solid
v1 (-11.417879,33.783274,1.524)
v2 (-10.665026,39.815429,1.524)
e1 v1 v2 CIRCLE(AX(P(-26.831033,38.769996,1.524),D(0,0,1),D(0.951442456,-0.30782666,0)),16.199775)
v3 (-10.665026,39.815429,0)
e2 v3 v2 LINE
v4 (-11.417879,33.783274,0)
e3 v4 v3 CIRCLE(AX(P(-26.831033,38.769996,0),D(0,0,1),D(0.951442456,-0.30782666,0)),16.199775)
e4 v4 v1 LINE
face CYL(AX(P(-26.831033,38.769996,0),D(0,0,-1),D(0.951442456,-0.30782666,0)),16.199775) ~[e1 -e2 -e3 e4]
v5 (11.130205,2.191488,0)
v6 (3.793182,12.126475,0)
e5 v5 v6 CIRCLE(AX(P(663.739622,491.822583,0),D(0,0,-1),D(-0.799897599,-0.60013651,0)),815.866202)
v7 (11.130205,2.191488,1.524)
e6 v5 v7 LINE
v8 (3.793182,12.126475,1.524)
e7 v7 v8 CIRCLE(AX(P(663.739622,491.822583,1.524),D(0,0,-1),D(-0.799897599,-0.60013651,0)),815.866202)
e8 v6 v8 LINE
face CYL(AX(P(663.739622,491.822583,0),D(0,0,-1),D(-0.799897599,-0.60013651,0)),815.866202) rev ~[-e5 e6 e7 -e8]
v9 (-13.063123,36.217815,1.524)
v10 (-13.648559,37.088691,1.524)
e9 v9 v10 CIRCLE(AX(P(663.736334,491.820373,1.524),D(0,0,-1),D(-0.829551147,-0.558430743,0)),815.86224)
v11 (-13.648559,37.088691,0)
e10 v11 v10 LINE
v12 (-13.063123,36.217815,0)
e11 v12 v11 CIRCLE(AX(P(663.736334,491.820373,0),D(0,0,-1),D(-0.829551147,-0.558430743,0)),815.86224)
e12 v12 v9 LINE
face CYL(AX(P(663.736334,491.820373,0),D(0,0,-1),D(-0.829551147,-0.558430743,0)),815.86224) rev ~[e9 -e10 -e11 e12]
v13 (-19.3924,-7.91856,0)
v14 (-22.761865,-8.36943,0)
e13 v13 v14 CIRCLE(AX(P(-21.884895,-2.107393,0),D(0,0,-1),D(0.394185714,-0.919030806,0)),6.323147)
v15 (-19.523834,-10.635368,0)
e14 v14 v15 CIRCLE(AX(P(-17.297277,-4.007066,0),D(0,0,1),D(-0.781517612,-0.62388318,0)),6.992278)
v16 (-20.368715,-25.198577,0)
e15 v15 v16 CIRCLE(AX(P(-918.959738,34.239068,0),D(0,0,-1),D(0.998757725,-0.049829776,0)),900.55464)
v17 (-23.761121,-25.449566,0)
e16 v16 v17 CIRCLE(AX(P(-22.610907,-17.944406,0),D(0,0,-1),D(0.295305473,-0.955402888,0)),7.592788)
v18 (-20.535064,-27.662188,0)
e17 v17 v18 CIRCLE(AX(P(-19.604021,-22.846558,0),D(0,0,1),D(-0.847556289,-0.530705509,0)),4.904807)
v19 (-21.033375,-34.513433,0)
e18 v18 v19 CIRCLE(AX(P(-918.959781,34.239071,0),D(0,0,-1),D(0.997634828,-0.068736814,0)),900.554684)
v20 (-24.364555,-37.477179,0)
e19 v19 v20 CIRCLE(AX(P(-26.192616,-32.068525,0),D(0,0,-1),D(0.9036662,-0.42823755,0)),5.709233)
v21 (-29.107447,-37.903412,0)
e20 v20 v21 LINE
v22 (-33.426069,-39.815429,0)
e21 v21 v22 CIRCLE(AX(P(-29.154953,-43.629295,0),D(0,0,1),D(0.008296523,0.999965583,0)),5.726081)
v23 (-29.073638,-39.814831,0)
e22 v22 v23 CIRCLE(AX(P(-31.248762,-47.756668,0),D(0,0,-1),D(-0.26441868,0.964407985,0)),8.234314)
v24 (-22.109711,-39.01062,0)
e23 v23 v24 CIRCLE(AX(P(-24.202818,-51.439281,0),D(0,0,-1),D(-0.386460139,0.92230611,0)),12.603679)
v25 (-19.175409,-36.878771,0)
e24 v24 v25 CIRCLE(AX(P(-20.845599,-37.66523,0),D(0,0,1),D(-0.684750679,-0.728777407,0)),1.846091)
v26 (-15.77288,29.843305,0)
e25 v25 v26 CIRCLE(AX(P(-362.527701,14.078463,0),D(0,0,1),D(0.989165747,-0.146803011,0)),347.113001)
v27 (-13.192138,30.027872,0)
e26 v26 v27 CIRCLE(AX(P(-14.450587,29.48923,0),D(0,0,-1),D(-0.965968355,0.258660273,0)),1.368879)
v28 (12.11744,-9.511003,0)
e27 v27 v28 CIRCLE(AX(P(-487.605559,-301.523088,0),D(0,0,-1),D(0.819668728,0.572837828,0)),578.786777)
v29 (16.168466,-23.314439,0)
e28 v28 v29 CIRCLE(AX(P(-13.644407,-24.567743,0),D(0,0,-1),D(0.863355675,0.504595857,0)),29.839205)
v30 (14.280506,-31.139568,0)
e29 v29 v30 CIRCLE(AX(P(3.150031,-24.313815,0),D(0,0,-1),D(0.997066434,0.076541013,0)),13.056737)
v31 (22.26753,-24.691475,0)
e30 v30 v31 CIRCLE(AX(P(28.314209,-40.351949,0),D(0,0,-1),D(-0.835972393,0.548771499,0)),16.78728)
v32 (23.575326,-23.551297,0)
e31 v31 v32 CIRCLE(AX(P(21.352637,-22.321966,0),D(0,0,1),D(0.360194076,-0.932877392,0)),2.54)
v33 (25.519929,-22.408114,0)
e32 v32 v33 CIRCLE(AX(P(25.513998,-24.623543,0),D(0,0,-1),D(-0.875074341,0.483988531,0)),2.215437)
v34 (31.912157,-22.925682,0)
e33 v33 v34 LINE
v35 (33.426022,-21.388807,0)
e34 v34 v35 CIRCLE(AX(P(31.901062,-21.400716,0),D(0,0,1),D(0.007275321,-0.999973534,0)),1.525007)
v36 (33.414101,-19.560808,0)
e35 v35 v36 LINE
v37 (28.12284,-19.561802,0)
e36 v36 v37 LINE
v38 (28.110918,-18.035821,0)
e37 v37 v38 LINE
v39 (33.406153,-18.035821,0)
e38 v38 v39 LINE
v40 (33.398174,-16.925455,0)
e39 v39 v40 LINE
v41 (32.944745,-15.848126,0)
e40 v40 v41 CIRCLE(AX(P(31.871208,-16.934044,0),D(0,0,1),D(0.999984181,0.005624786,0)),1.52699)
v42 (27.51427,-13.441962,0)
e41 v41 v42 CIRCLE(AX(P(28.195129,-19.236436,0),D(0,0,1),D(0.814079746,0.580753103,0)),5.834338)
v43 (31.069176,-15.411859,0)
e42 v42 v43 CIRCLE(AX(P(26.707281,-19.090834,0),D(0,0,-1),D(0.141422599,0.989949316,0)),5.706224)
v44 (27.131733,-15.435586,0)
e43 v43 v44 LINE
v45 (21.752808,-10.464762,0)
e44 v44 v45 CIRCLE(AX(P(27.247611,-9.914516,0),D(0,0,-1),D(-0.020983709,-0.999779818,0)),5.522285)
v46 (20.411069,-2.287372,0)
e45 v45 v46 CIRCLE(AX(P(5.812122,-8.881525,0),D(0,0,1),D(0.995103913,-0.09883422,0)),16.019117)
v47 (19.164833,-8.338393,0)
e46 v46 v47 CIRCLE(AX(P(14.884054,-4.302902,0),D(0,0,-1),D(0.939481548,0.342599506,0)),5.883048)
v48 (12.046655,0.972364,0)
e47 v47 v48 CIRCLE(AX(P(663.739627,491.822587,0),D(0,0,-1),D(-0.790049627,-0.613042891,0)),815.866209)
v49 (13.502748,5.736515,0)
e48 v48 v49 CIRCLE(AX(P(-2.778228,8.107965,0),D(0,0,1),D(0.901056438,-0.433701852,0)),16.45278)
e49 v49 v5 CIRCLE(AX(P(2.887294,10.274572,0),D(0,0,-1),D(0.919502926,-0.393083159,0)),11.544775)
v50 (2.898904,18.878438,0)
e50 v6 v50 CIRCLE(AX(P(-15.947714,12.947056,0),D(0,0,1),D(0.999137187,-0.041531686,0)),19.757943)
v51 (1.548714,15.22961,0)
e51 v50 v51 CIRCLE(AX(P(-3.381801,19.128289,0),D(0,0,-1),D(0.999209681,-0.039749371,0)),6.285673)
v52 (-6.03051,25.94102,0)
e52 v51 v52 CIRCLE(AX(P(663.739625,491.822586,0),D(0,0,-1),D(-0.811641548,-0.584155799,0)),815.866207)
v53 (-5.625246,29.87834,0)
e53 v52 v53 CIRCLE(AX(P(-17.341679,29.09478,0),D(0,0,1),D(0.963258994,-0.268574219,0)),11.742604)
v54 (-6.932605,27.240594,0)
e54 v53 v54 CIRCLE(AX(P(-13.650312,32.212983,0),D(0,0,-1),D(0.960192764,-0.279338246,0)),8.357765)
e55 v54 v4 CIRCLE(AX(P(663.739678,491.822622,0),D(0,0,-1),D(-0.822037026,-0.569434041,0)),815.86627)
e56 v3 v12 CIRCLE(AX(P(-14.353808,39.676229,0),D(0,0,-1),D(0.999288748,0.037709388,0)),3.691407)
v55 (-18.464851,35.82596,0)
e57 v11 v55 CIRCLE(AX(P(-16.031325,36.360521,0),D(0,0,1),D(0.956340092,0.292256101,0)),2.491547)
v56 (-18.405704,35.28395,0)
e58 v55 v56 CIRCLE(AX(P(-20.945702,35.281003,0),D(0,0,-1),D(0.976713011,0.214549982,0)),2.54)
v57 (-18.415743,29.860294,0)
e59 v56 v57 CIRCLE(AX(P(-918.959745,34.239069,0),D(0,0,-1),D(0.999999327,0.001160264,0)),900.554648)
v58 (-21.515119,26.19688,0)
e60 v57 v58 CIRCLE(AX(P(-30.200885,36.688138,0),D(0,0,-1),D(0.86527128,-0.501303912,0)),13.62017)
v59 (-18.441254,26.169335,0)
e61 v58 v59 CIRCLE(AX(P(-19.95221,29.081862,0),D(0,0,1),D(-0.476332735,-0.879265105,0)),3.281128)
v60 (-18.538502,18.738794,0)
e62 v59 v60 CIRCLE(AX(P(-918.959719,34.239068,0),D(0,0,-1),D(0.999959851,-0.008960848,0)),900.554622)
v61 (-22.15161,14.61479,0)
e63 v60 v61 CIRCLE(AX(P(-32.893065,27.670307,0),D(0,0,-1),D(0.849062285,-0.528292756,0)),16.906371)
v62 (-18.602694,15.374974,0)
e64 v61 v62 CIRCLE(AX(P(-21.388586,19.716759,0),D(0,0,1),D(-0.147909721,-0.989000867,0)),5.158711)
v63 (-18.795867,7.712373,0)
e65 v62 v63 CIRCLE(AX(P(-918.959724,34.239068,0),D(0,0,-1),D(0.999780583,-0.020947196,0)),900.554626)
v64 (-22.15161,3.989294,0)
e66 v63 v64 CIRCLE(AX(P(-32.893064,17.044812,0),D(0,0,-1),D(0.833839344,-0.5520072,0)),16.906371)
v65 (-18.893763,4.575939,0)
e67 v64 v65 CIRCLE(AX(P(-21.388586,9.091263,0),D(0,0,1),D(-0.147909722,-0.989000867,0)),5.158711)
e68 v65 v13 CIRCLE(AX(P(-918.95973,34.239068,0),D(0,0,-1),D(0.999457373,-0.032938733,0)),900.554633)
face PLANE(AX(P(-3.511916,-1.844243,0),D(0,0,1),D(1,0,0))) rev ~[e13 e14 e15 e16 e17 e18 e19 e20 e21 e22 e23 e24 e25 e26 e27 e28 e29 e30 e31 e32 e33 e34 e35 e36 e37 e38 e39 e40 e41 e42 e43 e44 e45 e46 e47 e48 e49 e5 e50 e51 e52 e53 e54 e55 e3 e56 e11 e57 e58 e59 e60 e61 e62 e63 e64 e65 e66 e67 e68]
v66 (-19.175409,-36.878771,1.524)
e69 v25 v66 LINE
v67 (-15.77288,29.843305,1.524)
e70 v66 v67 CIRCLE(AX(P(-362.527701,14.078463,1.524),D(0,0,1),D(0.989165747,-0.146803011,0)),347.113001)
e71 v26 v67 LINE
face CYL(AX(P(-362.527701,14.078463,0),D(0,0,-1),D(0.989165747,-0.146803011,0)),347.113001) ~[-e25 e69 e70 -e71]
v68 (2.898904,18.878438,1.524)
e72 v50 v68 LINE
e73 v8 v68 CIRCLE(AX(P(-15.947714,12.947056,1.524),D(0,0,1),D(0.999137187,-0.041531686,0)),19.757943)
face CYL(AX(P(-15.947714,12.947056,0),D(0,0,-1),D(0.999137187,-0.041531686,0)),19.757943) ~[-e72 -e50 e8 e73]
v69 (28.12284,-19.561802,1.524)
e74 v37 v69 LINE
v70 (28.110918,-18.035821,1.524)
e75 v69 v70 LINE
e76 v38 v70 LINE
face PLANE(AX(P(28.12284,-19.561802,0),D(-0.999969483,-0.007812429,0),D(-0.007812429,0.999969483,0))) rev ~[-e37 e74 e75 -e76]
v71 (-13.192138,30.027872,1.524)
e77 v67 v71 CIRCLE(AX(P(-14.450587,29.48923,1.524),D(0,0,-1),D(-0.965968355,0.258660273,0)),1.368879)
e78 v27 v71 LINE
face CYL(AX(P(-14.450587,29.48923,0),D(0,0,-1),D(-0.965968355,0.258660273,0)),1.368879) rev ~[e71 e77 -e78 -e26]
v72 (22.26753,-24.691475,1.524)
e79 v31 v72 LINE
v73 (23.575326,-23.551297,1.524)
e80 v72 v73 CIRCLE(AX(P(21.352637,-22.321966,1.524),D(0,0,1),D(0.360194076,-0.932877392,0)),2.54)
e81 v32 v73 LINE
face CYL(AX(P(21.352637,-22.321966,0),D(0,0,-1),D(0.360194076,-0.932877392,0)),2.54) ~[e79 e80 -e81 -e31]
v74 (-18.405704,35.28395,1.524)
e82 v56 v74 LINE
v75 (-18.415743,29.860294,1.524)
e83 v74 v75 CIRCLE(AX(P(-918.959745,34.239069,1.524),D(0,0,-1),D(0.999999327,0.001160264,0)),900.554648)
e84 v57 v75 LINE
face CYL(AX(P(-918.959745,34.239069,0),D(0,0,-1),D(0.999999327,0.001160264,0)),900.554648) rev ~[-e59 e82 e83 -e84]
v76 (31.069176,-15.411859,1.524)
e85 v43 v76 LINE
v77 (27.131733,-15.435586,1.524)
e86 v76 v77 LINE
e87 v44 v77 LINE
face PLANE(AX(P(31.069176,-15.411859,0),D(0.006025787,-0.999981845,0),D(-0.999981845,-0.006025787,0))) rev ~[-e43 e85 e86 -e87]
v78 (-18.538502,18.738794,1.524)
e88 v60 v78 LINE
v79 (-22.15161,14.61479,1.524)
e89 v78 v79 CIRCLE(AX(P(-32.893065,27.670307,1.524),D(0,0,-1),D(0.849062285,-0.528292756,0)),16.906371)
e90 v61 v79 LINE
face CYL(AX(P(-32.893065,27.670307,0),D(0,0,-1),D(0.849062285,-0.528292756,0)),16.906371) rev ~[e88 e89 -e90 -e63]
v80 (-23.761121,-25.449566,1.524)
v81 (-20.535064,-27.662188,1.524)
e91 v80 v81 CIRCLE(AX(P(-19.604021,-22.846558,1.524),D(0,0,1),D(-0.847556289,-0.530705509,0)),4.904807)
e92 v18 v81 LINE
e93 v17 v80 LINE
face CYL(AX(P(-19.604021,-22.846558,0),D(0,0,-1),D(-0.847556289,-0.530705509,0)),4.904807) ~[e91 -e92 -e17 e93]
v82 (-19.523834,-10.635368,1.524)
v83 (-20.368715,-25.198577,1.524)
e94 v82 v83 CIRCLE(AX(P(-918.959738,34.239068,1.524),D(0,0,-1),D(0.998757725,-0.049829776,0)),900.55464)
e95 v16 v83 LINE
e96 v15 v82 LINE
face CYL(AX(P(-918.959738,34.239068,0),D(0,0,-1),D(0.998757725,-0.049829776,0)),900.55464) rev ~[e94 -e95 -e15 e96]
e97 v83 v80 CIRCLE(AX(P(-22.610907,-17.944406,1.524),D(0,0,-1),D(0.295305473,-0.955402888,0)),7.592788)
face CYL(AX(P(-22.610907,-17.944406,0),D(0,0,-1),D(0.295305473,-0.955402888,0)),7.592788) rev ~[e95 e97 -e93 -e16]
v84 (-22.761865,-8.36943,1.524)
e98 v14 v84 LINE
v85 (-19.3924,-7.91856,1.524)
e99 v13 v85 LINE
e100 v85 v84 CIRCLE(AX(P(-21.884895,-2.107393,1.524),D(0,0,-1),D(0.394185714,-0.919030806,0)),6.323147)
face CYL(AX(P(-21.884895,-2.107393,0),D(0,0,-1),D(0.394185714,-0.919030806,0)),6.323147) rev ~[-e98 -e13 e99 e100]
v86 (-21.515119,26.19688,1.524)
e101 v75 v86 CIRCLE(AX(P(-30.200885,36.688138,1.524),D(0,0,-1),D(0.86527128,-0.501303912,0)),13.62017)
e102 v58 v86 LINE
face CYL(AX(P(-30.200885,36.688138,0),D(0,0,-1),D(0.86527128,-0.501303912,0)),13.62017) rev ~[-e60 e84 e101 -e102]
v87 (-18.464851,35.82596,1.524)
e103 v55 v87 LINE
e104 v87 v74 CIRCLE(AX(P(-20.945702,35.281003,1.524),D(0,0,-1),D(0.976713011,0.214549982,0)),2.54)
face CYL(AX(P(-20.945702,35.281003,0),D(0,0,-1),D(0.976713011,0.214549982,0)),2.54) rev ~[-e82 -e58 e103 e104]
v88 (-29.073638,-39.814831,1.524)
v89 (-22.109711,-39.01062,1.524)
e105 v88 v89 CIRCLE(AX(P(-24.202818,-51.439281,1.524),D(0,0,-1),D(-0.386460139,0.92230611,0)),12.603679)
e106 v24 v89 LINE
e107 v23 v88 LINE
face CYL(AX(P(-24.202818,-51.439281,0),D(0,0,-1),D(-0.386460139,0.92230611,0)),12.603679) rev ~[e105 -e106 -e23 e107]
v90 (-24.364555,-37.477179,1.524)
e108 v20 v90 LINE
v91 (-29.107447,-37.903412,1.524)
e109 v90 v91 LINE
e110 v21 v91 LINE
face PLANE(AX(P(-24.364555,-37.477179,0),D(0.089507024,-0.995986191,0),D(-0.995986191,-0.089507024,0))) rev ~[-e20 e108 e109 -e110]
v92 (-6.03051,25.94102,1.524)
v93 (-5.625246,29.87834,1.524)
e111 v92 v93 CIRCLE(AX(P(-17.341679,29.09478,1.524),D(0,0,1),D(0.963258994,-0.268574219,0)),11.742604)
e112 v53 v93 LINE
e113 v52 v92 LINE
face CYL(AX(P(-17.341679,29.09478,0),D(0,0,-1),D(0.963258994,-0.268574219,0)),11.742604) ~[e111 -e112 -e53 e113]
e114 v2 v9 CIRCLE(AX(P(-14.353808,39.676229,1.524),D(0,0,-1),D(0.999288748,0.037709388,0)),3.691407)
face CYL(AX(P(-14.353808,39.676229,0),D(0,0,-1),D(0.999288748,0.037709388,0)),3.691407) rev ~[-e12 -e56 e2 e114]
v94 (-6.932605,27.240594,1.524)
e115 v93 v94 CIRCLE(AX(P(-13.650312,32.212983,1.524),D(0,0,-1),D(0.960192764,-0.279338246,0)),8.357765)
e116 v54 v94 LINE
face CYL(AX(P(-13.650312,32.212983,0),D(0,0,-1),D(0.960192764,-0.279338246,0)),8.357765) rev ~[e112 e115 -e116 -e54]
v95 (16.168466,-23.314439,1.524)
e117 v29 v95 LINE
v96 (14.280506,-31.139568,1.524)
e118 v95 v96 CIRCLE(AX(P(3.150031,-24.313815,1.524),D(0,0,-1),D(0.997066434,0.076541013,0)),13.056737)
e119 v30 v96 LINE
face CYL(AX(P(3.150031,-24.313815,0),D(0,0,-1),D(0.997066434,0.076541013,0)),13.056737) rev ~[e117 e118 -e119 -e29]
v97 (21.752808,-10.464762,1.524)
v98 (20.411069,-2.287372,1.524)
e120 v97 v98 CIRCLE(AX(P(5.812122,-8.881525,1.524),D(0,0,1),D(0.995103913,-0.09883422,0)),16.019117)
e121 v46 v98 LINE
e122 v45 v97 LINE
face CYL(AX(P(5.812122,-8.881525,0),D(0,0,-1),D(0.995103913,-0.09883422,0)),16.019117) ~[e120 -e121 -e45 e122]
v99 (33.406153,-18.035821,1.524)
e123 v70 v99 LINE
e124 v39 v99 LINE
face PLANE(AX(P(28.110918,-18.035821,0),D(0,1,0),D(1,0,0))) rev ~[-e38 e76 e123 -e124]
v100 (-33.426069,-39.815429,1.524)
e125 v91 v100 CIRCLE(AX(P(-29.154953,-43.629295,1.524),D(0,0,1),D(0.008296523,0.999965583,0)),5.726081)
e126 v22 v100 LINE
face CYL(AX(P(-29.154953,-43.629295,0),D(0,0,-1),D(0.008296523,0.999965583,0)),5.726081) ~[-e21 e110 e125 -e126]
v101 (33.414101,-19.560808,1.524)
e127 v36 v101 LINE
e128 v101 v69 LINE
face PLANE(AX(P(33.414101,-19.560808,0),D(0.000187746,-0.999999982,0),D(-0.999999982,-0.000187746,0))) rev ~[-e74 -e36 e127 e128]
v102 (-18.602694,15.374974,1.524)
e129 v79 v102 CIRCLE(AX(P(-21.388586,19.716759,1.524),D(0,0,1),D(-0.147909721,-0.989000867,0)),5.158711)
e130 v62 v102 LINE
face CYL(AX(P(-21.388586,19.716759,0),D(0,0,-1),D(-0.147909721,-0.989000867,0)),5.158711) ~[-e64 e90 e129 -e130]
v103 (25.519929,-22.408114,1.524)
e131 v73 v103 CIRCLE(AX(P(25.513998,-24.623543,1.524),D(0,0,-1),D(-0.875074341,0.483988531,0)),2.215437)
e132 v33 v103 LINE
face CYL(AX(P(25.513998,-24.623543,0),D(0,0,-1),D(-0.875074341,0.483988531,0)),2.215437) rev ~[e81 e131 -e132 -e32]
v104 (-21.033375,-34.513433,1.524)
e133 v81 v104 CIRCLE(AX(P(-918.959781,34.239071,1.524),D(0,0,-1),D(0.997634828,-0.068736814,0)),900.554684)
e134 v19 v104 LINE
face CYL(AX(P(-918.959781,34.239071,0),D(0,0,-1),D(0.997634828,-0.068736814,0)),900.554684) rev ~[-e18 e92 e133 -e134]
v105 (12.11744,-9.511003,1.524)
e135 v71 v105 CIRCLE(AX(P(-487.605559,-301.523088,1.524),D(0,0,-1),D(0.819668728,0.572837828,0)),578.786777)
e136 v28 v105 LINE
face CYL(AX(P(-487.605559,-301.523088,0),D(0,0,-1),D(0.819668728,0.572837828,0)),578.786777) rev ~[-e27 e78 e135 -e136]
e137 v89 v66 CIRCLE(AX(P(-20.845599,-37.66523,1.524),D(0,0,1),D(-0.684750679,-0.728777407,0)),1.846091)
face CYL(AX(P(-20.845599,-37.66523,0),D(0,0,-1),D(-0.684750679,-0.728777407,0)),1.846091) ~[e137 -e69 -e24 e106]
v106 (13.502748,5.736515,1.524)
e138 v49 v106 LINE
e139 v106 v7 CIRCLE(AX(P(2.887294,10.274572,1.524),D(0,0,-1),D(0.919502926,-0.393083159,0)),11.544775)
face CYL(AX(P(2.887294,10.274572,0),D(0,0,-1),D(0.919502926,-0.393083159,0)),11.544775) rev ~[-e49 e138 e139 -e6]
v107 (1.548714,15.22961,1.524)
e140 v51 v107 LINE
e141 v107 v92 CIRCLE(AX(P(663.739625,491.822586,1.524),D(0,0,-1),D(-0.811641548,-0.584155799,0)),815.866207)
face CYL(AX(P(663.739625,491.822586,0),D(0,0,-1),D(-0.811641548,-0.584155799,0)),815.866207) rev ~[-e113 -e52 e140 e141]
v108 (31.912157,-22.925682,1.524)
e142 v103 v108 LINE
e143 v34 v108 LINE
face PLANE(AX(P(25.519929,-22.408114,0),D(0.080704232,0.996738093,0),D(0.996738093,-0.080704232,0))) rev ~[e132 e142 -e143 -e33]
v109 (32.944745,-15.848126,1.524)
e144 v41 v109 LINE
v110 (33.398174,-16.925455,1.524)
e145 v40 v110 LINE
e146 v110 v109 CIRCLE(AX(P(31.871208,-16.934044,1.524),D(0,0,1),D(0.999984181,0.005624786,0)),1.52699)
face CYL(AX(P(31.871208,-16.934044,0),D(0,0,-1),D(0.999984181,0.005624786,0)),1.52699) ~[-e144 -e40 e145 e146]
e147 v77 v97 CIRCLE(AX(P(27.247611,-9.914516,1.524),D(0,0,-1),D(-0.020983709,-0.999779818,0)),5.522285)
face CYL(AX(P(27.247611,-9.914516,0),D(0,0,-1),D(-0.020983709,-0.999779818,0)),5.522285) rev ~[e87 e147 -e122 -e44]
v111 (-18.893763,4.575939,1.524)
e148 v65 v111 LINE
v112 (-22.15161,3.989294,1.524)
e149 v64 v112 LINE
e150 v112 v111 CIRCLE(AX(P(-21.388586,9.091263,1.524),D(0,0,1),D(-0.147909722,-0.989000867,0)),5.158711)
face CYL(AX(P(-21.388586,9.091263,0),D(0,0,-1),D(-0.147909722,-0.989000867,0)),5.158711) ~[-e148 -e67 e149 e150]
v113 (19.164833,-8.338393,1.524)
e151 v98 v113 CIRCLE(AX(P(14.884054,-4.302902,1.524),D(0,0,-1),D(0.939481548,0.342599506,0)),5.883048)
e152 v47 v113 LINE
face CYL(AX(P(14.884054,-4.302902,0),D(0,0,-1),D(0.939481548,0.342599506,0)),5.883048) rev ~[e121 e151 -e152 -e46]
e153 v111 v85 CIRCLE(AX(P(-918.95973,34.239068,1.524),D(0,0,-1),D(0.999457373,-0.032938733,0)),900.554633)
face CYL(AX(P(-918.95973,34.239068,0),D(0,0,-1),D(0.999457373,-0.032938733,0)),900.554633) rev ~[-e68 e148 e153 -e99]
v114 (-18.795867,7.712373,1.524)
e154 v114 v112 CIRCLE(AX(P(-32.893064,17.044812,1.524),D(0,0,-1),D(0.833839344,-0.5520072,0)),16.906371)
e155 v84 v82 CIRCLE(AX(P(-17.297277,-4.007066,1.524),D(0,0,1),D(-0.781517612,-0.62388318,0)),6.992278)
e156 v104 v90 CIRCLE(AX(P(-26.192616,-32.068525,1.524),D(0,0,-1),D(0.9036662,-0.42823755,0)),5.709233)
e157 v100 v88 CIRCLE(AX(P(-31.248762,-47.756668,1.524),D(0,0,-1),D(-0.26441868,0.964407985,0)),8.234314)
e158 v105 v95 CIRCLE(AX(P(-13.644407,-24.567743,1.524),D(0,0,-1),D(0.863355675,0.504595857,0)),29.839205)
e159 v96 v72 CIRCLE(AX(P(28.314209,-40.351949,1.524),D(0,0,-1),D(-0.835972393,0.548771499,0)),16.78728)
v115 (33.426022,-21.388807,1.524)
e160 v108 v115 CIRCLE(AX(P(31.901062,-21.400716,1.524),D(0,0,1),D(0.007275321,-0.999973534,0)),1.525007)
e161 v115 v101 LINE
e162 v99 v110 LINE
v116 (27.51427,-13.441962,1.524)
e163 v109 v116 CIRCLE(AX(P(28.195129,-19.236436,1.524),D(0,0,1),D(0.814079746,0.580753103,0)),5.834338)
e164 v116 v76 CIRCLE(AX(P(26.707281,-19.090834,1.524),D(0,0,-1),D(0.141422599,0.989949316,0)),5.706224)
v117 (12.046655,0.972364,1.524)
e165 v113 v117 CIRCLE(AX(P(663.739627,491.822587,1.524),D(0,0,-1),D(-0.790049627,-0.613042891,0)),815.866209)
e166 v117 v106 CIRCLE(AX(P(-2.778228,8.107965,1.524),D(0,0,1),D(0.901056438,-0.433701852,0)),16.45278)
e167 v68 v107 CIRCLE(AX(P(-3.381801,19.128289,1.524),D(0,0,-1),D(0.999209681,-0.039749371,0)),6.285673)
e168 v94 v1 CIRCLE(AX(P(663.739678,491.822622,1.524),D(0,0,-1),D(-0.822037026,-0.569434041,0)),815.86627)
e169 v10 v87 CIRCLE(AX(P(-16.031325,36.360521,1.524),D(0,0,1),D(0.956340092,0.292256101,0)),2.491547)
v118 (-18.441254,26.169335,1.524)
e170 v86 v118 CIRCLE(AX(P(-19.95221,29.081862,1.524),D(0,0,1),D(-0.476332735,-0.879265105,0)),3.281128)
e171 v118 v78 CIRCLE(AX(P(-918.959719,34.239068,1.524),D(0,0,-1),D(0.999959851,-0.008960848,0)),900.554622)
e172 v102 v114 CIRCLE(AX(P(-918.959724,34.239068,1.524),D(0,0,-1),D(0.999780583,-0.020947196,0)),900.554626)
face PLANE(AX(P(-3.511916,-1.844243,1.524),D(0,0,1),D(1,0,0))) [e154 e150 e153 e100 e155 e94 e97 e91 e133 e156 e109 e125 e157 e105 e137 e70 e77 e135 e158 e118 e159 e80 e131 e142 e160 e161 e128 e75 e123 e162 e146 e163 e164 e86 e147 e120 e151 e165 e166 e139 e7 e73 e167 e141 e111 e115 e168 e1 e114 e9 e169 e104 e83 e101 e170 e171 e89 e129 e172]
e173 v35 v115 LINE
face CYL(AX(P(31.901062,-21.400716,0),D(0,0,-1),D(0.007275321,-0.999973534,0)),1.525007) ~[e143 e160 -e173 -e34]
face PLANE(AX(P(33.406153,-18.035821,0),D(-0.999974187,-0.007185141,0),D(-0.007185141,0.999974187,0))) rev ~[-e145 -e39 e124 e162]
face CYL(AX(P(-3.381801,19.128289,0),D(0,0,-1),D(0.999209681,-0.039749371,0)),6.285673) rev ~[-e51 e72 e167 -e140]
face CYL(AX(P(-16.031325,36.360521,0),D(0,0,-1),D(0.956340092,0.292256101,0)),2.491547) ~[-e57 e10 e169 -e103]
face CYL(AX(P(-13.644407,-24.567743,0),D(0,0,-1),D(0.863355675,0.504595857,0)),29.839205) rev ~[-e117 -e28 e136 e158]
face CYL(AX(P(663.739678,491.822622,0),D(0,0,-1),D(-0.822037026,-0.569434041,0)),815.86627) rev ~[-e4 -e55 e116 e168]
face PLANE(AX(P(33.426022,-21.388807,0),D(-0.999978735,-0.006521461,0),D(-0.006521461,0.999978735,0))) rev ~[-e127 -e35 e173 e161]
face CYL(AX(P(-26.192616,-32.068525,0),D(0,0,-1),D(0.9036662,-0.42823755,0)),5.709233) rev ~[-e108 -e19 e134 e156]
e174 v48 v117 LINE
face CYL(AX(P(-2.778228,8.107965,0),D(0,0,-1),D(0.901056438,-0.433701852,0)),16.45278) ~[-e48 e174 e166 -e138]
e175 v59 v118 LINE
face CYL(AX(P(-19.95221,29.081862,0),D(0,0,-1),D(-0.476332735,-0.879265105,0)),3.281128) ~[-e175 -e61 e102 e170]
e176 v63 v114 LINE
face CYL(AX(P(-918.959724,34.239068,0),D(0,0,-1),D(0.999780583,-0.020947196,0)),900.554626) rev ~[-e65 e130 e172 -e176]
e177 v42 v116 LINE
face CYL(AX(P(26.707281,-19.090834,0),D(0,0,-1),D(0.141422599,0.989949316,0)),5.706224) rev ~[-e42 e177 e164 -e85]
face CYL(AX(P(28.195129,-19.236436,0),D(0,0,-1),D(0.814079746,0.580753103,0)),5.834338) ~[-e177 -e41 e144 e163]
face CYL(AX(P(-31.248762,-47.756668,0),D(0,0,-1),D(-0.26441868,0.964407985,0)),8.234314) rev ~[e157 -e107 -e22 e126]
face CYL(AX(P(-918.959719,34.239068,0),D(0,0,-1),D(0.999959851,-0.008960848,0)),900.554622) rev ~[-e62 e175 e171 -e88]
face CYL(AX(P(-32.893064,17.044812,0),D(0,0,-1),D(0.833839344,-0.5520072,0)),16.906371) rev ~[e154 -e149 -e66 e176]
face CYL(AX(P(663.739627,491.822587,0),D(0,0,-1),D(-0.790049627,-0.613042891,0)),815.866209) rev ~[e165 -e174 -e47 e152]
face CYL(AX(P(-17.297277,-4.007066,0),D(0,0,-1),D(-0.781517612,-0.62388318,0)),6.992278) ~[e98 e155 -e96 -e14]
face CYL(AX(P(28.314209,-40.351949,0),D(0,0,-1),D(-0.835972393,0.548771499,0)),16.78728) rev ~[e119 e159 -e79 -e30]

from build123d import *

# Parameters (mm, degrees)
BOSS_EXTRUDE1_DEPTH = 1.524


with BuildPart() as part:
    # Sketch1 → Boss-Extrude1 (new body)
    with BuildSketch(Plane.XY):
        with BuildLine():
            Line((-24.364554891, -37.477178577), (-29.107446573, -37.903411516))
            ThreePointArc((-29.107446573, -37.903411516), (-31.473071099, -38.393425652), (-33.42606857, -39.815429216))
            ThreePointArc((-33.42606857, -39.815429216), (-31.249893388, -39.522353453), (-29.073637755, -39.814831212))
            ThreePointArc((-29.073637755, -39.814831212), (-25.648712592, -38.918813581), (-22.109711099, -39.010619897))
            ThreePointArc((-22.109711099, -39.010619897), (-19.760509062, -39.158760526), (-19.17540942, -36.878770555))
            ThreePointArc((-19.17540942, -36.878770555), (-15.865162798, -3.599783912), (-15.772880419, 29.843304591))
            ThreePointArc((-15.772880419, 29.843304591), (-14.548235849, 30.854621423), (-13.192137962, 30.027872017))
            ThreePointArc((-13.192137962, 30.027872017), (-0.136306851, 10.515149008), (12.117439823, -9.511003335))
            ThreePointArc((12.117439823, -9.511003335), (14.987237528, -16.164940717), (16.168465676, -23.314438715))
            ThreePointArc((16.168465676, -23.314438715), (15.842573186, -27.376128515), (14.280506414, -31.139568078))
            ThreePointArc((14.280506414, -31.139568078), (17.769072475, -27.290062934), (22.267530319, -24.691474848))
            ThreePointArc((22.267530319, -24.691474848), (23.021800675, -24.236514222), (23.57532619, -23.551297143))
            ThreePointArc((23.57532619, -23.551297143), (24.39123878, -22.713681417), (25.519929239, -22.408114227))
            Line((25.519929239, -22.408114227), (31.91215665, -22.925682288))
            ThreePointArc((31.91215665, -22.925682288), (32.987506925, -22.470894628), (33.426022068, -21.3888066))
            Line((33.426022068, -21.3888066), (33.414100594, -19.560808287))
            Line((33.414100594, -19.560808287), (28.122840134, -19.561801701))
            Line((28.122840134, -19.561801701), (28.110918151, -18.035820501))
            Line((28.110918151, -18.035820501), (33.406152775, -18.035820501))
            Line((33.406152775, -18.035820501), (33.398174437, -16.925455032))
            ThreePointArc((33.398174437, -16.925455032), (33.278622124, -16.341687991), (32.944745486, -15.848126338))
            ThreePointArc((32.944745486, -15.848126338), (30.558622948, -13.902263693), (27.514270045, -13.441962054))
            ThreePointArc((27.514270045, -13.441962054), (29.473047609, -14.099689708), (31.069176316, -15.411859044))
            Line((31.069176316, -15.411859044), (27.131733148, -15.435585668))
            ThreePointArc((27.131733148, -15.435585668), (23.499650774, -13.970182339), (21.752807973, -10.464762321))
            ThreePointArc((21.752807973, -10.464762321), (21.619864509, -6.287804949), (20.411069114, -2.287372404))
            ThreePointArc((20.411069114, -2.287372404), (20.646164492, -5.489635666), (19.164832874, -8.338392672))
            ThreePointArc((19.164832874, -8.338392672), (15.589025091, -3.695796166), (12.046655257, 0.972364027))
            ThreePointArc((12.046655257, 0.972364027), (12.956062916, 3.299009299), (13.502748407, 5.736515296))
            ThreePointArc((13.502748407, 5.736515296), (12.481630447, 3.853470902), (11.130205062, 2.191487897))
            ThreePointArc((11.130205062, 2.191487897), (7.442893614, 7.145097778), (3.793181539, 12.12647493))
            ThreePointArc((3.793181539, 12.12647493), (3.6391771, 15.54128121), (2.898904085, 18.878437958))
            ThreePointArc((2.898904085, 18.878437958), (2.513226677, 16.946929667), (1.548714149, 15.229609975))
            ThreePointArc((1.548714149, 15.229609975), (-2.262432259, 20.570077326), (-6.030509674, 25.941019614))
            ThreePointArc((-6.030509674, 25.941019614), (-5.660787122, 27.892481118), (-5.62524637, 29.878339526))
            ThreePointArc((-5.62524637, 29.878339526), (-6.161870131, 28.501450031), (-6.932604962, 27.240594145))
            ThreePointArc((-6.932604962, 27.240594145), (-9.183193775, 30.506482698), (-11.417879239, 33.783273646))
            ThreePointArc((-11.417879239, 33.783273646), (-10.755972391, 36.763721595), (-10.665026003, 39.815429216))
            ThreePointArc((-10.665026003, 39.815429216), (-11.282248363, 37.628788529), (-13.063123372, 36.21781541))
            ThreePointArc((-13.063123372, 36.21781541), (-13.355981093, 36.653158865), (-13.648558784, 37.088690566))
            ThreePointArc((-13.648558784, 37.088690566), (-16.663200217, 38.770611805), (-18.464850886, 35.825959552))
            ThreePointArc((-18.464850886, 35.825959552), (-18.420691896, 35.556546257), (-18.405703646, 35.283949682))
            ThreePointArc((-18.405703646, 35.283949682), (-18.40664027, 32.572114189), (-18.415743017, 29.860293811))
            ThreePointArc((-18.415743017, 29.860293811), (-19.802823987, 27.891016102), (-21.515118511, 26.1968804))
            ThreePointArc((-21.515118511, 26.1968804), (-19.981611623, 25.800865516), (-18.441254033, 26.16933486))
            ThreePointArc((-18.441254033, 26.16933486), (-18.482213638, 22.453964053), (-18.538502103, 18.738793864))
            ThreePointArc((-18.538502103, 18.738793864), (-20.176761137, 16.529345851), (-22.151609818, 14.614789539))
            ThreePointArc((-22.151609818, 14.614789539), (-20.30809135, 14.67247237), (-18.602694106, 15.374973539))
            ThreePointArc((-18.602694106, 15.374973539), (-18.691127928, 11.543467884), (-18.795866803, 7.712373276))
            ThreePointArc((-18.795866803, 7.712373276), (-20.334999659, 5.725783654), (-22.151609818, 3.989294148))
            ThreePointArc((-22.151609818, 3.989294148), (-20.47435397, 4.014209715), (-18.893763009, 4.575939347))
            ThreePointArc((-18.893763009, 4.575939347), (-19.121395234, -1.672175675), (-19.392400358, -7.918559748))
            ThreePointArc((-19.392400358, -7.918559748), (-21.046264617, -8.374679978), (-22.761865121, -8.369430126))
            ThreePointArc((-22.761865121, -8.369430126), (-21.306272714, -9.735931232), (-19.523833936, -10.635368018))
            ThreePointArc((-19.523833936, -10.635368018), (-19.916786026, -17.918683373), (-20.36871487, -25.198577206))
            ThreePointArc((-20.36871487, -25.198577206), (-22.05068144, -25.516497621), (-23.761121477, -25.44956621))
            ThreePointArc((-23.761121477, -25.44956621), (-22.378228066, -26.891420245), (-20.535063915, -27.662188146))
            ThreePointArc((-20.535063915, -27.662188146), (-20.777686634, -31.088285528), (-21.033374555, -34.513432641))
            ThreePointArc((-21.033374555, -34.513432641), (-22.397678986, -36.333943653), (-24.364554891, -37.477178577))
        make_face()
    extrude(amount=BOSS_EXTRUDE1_DEPTH)


solid = part.part
